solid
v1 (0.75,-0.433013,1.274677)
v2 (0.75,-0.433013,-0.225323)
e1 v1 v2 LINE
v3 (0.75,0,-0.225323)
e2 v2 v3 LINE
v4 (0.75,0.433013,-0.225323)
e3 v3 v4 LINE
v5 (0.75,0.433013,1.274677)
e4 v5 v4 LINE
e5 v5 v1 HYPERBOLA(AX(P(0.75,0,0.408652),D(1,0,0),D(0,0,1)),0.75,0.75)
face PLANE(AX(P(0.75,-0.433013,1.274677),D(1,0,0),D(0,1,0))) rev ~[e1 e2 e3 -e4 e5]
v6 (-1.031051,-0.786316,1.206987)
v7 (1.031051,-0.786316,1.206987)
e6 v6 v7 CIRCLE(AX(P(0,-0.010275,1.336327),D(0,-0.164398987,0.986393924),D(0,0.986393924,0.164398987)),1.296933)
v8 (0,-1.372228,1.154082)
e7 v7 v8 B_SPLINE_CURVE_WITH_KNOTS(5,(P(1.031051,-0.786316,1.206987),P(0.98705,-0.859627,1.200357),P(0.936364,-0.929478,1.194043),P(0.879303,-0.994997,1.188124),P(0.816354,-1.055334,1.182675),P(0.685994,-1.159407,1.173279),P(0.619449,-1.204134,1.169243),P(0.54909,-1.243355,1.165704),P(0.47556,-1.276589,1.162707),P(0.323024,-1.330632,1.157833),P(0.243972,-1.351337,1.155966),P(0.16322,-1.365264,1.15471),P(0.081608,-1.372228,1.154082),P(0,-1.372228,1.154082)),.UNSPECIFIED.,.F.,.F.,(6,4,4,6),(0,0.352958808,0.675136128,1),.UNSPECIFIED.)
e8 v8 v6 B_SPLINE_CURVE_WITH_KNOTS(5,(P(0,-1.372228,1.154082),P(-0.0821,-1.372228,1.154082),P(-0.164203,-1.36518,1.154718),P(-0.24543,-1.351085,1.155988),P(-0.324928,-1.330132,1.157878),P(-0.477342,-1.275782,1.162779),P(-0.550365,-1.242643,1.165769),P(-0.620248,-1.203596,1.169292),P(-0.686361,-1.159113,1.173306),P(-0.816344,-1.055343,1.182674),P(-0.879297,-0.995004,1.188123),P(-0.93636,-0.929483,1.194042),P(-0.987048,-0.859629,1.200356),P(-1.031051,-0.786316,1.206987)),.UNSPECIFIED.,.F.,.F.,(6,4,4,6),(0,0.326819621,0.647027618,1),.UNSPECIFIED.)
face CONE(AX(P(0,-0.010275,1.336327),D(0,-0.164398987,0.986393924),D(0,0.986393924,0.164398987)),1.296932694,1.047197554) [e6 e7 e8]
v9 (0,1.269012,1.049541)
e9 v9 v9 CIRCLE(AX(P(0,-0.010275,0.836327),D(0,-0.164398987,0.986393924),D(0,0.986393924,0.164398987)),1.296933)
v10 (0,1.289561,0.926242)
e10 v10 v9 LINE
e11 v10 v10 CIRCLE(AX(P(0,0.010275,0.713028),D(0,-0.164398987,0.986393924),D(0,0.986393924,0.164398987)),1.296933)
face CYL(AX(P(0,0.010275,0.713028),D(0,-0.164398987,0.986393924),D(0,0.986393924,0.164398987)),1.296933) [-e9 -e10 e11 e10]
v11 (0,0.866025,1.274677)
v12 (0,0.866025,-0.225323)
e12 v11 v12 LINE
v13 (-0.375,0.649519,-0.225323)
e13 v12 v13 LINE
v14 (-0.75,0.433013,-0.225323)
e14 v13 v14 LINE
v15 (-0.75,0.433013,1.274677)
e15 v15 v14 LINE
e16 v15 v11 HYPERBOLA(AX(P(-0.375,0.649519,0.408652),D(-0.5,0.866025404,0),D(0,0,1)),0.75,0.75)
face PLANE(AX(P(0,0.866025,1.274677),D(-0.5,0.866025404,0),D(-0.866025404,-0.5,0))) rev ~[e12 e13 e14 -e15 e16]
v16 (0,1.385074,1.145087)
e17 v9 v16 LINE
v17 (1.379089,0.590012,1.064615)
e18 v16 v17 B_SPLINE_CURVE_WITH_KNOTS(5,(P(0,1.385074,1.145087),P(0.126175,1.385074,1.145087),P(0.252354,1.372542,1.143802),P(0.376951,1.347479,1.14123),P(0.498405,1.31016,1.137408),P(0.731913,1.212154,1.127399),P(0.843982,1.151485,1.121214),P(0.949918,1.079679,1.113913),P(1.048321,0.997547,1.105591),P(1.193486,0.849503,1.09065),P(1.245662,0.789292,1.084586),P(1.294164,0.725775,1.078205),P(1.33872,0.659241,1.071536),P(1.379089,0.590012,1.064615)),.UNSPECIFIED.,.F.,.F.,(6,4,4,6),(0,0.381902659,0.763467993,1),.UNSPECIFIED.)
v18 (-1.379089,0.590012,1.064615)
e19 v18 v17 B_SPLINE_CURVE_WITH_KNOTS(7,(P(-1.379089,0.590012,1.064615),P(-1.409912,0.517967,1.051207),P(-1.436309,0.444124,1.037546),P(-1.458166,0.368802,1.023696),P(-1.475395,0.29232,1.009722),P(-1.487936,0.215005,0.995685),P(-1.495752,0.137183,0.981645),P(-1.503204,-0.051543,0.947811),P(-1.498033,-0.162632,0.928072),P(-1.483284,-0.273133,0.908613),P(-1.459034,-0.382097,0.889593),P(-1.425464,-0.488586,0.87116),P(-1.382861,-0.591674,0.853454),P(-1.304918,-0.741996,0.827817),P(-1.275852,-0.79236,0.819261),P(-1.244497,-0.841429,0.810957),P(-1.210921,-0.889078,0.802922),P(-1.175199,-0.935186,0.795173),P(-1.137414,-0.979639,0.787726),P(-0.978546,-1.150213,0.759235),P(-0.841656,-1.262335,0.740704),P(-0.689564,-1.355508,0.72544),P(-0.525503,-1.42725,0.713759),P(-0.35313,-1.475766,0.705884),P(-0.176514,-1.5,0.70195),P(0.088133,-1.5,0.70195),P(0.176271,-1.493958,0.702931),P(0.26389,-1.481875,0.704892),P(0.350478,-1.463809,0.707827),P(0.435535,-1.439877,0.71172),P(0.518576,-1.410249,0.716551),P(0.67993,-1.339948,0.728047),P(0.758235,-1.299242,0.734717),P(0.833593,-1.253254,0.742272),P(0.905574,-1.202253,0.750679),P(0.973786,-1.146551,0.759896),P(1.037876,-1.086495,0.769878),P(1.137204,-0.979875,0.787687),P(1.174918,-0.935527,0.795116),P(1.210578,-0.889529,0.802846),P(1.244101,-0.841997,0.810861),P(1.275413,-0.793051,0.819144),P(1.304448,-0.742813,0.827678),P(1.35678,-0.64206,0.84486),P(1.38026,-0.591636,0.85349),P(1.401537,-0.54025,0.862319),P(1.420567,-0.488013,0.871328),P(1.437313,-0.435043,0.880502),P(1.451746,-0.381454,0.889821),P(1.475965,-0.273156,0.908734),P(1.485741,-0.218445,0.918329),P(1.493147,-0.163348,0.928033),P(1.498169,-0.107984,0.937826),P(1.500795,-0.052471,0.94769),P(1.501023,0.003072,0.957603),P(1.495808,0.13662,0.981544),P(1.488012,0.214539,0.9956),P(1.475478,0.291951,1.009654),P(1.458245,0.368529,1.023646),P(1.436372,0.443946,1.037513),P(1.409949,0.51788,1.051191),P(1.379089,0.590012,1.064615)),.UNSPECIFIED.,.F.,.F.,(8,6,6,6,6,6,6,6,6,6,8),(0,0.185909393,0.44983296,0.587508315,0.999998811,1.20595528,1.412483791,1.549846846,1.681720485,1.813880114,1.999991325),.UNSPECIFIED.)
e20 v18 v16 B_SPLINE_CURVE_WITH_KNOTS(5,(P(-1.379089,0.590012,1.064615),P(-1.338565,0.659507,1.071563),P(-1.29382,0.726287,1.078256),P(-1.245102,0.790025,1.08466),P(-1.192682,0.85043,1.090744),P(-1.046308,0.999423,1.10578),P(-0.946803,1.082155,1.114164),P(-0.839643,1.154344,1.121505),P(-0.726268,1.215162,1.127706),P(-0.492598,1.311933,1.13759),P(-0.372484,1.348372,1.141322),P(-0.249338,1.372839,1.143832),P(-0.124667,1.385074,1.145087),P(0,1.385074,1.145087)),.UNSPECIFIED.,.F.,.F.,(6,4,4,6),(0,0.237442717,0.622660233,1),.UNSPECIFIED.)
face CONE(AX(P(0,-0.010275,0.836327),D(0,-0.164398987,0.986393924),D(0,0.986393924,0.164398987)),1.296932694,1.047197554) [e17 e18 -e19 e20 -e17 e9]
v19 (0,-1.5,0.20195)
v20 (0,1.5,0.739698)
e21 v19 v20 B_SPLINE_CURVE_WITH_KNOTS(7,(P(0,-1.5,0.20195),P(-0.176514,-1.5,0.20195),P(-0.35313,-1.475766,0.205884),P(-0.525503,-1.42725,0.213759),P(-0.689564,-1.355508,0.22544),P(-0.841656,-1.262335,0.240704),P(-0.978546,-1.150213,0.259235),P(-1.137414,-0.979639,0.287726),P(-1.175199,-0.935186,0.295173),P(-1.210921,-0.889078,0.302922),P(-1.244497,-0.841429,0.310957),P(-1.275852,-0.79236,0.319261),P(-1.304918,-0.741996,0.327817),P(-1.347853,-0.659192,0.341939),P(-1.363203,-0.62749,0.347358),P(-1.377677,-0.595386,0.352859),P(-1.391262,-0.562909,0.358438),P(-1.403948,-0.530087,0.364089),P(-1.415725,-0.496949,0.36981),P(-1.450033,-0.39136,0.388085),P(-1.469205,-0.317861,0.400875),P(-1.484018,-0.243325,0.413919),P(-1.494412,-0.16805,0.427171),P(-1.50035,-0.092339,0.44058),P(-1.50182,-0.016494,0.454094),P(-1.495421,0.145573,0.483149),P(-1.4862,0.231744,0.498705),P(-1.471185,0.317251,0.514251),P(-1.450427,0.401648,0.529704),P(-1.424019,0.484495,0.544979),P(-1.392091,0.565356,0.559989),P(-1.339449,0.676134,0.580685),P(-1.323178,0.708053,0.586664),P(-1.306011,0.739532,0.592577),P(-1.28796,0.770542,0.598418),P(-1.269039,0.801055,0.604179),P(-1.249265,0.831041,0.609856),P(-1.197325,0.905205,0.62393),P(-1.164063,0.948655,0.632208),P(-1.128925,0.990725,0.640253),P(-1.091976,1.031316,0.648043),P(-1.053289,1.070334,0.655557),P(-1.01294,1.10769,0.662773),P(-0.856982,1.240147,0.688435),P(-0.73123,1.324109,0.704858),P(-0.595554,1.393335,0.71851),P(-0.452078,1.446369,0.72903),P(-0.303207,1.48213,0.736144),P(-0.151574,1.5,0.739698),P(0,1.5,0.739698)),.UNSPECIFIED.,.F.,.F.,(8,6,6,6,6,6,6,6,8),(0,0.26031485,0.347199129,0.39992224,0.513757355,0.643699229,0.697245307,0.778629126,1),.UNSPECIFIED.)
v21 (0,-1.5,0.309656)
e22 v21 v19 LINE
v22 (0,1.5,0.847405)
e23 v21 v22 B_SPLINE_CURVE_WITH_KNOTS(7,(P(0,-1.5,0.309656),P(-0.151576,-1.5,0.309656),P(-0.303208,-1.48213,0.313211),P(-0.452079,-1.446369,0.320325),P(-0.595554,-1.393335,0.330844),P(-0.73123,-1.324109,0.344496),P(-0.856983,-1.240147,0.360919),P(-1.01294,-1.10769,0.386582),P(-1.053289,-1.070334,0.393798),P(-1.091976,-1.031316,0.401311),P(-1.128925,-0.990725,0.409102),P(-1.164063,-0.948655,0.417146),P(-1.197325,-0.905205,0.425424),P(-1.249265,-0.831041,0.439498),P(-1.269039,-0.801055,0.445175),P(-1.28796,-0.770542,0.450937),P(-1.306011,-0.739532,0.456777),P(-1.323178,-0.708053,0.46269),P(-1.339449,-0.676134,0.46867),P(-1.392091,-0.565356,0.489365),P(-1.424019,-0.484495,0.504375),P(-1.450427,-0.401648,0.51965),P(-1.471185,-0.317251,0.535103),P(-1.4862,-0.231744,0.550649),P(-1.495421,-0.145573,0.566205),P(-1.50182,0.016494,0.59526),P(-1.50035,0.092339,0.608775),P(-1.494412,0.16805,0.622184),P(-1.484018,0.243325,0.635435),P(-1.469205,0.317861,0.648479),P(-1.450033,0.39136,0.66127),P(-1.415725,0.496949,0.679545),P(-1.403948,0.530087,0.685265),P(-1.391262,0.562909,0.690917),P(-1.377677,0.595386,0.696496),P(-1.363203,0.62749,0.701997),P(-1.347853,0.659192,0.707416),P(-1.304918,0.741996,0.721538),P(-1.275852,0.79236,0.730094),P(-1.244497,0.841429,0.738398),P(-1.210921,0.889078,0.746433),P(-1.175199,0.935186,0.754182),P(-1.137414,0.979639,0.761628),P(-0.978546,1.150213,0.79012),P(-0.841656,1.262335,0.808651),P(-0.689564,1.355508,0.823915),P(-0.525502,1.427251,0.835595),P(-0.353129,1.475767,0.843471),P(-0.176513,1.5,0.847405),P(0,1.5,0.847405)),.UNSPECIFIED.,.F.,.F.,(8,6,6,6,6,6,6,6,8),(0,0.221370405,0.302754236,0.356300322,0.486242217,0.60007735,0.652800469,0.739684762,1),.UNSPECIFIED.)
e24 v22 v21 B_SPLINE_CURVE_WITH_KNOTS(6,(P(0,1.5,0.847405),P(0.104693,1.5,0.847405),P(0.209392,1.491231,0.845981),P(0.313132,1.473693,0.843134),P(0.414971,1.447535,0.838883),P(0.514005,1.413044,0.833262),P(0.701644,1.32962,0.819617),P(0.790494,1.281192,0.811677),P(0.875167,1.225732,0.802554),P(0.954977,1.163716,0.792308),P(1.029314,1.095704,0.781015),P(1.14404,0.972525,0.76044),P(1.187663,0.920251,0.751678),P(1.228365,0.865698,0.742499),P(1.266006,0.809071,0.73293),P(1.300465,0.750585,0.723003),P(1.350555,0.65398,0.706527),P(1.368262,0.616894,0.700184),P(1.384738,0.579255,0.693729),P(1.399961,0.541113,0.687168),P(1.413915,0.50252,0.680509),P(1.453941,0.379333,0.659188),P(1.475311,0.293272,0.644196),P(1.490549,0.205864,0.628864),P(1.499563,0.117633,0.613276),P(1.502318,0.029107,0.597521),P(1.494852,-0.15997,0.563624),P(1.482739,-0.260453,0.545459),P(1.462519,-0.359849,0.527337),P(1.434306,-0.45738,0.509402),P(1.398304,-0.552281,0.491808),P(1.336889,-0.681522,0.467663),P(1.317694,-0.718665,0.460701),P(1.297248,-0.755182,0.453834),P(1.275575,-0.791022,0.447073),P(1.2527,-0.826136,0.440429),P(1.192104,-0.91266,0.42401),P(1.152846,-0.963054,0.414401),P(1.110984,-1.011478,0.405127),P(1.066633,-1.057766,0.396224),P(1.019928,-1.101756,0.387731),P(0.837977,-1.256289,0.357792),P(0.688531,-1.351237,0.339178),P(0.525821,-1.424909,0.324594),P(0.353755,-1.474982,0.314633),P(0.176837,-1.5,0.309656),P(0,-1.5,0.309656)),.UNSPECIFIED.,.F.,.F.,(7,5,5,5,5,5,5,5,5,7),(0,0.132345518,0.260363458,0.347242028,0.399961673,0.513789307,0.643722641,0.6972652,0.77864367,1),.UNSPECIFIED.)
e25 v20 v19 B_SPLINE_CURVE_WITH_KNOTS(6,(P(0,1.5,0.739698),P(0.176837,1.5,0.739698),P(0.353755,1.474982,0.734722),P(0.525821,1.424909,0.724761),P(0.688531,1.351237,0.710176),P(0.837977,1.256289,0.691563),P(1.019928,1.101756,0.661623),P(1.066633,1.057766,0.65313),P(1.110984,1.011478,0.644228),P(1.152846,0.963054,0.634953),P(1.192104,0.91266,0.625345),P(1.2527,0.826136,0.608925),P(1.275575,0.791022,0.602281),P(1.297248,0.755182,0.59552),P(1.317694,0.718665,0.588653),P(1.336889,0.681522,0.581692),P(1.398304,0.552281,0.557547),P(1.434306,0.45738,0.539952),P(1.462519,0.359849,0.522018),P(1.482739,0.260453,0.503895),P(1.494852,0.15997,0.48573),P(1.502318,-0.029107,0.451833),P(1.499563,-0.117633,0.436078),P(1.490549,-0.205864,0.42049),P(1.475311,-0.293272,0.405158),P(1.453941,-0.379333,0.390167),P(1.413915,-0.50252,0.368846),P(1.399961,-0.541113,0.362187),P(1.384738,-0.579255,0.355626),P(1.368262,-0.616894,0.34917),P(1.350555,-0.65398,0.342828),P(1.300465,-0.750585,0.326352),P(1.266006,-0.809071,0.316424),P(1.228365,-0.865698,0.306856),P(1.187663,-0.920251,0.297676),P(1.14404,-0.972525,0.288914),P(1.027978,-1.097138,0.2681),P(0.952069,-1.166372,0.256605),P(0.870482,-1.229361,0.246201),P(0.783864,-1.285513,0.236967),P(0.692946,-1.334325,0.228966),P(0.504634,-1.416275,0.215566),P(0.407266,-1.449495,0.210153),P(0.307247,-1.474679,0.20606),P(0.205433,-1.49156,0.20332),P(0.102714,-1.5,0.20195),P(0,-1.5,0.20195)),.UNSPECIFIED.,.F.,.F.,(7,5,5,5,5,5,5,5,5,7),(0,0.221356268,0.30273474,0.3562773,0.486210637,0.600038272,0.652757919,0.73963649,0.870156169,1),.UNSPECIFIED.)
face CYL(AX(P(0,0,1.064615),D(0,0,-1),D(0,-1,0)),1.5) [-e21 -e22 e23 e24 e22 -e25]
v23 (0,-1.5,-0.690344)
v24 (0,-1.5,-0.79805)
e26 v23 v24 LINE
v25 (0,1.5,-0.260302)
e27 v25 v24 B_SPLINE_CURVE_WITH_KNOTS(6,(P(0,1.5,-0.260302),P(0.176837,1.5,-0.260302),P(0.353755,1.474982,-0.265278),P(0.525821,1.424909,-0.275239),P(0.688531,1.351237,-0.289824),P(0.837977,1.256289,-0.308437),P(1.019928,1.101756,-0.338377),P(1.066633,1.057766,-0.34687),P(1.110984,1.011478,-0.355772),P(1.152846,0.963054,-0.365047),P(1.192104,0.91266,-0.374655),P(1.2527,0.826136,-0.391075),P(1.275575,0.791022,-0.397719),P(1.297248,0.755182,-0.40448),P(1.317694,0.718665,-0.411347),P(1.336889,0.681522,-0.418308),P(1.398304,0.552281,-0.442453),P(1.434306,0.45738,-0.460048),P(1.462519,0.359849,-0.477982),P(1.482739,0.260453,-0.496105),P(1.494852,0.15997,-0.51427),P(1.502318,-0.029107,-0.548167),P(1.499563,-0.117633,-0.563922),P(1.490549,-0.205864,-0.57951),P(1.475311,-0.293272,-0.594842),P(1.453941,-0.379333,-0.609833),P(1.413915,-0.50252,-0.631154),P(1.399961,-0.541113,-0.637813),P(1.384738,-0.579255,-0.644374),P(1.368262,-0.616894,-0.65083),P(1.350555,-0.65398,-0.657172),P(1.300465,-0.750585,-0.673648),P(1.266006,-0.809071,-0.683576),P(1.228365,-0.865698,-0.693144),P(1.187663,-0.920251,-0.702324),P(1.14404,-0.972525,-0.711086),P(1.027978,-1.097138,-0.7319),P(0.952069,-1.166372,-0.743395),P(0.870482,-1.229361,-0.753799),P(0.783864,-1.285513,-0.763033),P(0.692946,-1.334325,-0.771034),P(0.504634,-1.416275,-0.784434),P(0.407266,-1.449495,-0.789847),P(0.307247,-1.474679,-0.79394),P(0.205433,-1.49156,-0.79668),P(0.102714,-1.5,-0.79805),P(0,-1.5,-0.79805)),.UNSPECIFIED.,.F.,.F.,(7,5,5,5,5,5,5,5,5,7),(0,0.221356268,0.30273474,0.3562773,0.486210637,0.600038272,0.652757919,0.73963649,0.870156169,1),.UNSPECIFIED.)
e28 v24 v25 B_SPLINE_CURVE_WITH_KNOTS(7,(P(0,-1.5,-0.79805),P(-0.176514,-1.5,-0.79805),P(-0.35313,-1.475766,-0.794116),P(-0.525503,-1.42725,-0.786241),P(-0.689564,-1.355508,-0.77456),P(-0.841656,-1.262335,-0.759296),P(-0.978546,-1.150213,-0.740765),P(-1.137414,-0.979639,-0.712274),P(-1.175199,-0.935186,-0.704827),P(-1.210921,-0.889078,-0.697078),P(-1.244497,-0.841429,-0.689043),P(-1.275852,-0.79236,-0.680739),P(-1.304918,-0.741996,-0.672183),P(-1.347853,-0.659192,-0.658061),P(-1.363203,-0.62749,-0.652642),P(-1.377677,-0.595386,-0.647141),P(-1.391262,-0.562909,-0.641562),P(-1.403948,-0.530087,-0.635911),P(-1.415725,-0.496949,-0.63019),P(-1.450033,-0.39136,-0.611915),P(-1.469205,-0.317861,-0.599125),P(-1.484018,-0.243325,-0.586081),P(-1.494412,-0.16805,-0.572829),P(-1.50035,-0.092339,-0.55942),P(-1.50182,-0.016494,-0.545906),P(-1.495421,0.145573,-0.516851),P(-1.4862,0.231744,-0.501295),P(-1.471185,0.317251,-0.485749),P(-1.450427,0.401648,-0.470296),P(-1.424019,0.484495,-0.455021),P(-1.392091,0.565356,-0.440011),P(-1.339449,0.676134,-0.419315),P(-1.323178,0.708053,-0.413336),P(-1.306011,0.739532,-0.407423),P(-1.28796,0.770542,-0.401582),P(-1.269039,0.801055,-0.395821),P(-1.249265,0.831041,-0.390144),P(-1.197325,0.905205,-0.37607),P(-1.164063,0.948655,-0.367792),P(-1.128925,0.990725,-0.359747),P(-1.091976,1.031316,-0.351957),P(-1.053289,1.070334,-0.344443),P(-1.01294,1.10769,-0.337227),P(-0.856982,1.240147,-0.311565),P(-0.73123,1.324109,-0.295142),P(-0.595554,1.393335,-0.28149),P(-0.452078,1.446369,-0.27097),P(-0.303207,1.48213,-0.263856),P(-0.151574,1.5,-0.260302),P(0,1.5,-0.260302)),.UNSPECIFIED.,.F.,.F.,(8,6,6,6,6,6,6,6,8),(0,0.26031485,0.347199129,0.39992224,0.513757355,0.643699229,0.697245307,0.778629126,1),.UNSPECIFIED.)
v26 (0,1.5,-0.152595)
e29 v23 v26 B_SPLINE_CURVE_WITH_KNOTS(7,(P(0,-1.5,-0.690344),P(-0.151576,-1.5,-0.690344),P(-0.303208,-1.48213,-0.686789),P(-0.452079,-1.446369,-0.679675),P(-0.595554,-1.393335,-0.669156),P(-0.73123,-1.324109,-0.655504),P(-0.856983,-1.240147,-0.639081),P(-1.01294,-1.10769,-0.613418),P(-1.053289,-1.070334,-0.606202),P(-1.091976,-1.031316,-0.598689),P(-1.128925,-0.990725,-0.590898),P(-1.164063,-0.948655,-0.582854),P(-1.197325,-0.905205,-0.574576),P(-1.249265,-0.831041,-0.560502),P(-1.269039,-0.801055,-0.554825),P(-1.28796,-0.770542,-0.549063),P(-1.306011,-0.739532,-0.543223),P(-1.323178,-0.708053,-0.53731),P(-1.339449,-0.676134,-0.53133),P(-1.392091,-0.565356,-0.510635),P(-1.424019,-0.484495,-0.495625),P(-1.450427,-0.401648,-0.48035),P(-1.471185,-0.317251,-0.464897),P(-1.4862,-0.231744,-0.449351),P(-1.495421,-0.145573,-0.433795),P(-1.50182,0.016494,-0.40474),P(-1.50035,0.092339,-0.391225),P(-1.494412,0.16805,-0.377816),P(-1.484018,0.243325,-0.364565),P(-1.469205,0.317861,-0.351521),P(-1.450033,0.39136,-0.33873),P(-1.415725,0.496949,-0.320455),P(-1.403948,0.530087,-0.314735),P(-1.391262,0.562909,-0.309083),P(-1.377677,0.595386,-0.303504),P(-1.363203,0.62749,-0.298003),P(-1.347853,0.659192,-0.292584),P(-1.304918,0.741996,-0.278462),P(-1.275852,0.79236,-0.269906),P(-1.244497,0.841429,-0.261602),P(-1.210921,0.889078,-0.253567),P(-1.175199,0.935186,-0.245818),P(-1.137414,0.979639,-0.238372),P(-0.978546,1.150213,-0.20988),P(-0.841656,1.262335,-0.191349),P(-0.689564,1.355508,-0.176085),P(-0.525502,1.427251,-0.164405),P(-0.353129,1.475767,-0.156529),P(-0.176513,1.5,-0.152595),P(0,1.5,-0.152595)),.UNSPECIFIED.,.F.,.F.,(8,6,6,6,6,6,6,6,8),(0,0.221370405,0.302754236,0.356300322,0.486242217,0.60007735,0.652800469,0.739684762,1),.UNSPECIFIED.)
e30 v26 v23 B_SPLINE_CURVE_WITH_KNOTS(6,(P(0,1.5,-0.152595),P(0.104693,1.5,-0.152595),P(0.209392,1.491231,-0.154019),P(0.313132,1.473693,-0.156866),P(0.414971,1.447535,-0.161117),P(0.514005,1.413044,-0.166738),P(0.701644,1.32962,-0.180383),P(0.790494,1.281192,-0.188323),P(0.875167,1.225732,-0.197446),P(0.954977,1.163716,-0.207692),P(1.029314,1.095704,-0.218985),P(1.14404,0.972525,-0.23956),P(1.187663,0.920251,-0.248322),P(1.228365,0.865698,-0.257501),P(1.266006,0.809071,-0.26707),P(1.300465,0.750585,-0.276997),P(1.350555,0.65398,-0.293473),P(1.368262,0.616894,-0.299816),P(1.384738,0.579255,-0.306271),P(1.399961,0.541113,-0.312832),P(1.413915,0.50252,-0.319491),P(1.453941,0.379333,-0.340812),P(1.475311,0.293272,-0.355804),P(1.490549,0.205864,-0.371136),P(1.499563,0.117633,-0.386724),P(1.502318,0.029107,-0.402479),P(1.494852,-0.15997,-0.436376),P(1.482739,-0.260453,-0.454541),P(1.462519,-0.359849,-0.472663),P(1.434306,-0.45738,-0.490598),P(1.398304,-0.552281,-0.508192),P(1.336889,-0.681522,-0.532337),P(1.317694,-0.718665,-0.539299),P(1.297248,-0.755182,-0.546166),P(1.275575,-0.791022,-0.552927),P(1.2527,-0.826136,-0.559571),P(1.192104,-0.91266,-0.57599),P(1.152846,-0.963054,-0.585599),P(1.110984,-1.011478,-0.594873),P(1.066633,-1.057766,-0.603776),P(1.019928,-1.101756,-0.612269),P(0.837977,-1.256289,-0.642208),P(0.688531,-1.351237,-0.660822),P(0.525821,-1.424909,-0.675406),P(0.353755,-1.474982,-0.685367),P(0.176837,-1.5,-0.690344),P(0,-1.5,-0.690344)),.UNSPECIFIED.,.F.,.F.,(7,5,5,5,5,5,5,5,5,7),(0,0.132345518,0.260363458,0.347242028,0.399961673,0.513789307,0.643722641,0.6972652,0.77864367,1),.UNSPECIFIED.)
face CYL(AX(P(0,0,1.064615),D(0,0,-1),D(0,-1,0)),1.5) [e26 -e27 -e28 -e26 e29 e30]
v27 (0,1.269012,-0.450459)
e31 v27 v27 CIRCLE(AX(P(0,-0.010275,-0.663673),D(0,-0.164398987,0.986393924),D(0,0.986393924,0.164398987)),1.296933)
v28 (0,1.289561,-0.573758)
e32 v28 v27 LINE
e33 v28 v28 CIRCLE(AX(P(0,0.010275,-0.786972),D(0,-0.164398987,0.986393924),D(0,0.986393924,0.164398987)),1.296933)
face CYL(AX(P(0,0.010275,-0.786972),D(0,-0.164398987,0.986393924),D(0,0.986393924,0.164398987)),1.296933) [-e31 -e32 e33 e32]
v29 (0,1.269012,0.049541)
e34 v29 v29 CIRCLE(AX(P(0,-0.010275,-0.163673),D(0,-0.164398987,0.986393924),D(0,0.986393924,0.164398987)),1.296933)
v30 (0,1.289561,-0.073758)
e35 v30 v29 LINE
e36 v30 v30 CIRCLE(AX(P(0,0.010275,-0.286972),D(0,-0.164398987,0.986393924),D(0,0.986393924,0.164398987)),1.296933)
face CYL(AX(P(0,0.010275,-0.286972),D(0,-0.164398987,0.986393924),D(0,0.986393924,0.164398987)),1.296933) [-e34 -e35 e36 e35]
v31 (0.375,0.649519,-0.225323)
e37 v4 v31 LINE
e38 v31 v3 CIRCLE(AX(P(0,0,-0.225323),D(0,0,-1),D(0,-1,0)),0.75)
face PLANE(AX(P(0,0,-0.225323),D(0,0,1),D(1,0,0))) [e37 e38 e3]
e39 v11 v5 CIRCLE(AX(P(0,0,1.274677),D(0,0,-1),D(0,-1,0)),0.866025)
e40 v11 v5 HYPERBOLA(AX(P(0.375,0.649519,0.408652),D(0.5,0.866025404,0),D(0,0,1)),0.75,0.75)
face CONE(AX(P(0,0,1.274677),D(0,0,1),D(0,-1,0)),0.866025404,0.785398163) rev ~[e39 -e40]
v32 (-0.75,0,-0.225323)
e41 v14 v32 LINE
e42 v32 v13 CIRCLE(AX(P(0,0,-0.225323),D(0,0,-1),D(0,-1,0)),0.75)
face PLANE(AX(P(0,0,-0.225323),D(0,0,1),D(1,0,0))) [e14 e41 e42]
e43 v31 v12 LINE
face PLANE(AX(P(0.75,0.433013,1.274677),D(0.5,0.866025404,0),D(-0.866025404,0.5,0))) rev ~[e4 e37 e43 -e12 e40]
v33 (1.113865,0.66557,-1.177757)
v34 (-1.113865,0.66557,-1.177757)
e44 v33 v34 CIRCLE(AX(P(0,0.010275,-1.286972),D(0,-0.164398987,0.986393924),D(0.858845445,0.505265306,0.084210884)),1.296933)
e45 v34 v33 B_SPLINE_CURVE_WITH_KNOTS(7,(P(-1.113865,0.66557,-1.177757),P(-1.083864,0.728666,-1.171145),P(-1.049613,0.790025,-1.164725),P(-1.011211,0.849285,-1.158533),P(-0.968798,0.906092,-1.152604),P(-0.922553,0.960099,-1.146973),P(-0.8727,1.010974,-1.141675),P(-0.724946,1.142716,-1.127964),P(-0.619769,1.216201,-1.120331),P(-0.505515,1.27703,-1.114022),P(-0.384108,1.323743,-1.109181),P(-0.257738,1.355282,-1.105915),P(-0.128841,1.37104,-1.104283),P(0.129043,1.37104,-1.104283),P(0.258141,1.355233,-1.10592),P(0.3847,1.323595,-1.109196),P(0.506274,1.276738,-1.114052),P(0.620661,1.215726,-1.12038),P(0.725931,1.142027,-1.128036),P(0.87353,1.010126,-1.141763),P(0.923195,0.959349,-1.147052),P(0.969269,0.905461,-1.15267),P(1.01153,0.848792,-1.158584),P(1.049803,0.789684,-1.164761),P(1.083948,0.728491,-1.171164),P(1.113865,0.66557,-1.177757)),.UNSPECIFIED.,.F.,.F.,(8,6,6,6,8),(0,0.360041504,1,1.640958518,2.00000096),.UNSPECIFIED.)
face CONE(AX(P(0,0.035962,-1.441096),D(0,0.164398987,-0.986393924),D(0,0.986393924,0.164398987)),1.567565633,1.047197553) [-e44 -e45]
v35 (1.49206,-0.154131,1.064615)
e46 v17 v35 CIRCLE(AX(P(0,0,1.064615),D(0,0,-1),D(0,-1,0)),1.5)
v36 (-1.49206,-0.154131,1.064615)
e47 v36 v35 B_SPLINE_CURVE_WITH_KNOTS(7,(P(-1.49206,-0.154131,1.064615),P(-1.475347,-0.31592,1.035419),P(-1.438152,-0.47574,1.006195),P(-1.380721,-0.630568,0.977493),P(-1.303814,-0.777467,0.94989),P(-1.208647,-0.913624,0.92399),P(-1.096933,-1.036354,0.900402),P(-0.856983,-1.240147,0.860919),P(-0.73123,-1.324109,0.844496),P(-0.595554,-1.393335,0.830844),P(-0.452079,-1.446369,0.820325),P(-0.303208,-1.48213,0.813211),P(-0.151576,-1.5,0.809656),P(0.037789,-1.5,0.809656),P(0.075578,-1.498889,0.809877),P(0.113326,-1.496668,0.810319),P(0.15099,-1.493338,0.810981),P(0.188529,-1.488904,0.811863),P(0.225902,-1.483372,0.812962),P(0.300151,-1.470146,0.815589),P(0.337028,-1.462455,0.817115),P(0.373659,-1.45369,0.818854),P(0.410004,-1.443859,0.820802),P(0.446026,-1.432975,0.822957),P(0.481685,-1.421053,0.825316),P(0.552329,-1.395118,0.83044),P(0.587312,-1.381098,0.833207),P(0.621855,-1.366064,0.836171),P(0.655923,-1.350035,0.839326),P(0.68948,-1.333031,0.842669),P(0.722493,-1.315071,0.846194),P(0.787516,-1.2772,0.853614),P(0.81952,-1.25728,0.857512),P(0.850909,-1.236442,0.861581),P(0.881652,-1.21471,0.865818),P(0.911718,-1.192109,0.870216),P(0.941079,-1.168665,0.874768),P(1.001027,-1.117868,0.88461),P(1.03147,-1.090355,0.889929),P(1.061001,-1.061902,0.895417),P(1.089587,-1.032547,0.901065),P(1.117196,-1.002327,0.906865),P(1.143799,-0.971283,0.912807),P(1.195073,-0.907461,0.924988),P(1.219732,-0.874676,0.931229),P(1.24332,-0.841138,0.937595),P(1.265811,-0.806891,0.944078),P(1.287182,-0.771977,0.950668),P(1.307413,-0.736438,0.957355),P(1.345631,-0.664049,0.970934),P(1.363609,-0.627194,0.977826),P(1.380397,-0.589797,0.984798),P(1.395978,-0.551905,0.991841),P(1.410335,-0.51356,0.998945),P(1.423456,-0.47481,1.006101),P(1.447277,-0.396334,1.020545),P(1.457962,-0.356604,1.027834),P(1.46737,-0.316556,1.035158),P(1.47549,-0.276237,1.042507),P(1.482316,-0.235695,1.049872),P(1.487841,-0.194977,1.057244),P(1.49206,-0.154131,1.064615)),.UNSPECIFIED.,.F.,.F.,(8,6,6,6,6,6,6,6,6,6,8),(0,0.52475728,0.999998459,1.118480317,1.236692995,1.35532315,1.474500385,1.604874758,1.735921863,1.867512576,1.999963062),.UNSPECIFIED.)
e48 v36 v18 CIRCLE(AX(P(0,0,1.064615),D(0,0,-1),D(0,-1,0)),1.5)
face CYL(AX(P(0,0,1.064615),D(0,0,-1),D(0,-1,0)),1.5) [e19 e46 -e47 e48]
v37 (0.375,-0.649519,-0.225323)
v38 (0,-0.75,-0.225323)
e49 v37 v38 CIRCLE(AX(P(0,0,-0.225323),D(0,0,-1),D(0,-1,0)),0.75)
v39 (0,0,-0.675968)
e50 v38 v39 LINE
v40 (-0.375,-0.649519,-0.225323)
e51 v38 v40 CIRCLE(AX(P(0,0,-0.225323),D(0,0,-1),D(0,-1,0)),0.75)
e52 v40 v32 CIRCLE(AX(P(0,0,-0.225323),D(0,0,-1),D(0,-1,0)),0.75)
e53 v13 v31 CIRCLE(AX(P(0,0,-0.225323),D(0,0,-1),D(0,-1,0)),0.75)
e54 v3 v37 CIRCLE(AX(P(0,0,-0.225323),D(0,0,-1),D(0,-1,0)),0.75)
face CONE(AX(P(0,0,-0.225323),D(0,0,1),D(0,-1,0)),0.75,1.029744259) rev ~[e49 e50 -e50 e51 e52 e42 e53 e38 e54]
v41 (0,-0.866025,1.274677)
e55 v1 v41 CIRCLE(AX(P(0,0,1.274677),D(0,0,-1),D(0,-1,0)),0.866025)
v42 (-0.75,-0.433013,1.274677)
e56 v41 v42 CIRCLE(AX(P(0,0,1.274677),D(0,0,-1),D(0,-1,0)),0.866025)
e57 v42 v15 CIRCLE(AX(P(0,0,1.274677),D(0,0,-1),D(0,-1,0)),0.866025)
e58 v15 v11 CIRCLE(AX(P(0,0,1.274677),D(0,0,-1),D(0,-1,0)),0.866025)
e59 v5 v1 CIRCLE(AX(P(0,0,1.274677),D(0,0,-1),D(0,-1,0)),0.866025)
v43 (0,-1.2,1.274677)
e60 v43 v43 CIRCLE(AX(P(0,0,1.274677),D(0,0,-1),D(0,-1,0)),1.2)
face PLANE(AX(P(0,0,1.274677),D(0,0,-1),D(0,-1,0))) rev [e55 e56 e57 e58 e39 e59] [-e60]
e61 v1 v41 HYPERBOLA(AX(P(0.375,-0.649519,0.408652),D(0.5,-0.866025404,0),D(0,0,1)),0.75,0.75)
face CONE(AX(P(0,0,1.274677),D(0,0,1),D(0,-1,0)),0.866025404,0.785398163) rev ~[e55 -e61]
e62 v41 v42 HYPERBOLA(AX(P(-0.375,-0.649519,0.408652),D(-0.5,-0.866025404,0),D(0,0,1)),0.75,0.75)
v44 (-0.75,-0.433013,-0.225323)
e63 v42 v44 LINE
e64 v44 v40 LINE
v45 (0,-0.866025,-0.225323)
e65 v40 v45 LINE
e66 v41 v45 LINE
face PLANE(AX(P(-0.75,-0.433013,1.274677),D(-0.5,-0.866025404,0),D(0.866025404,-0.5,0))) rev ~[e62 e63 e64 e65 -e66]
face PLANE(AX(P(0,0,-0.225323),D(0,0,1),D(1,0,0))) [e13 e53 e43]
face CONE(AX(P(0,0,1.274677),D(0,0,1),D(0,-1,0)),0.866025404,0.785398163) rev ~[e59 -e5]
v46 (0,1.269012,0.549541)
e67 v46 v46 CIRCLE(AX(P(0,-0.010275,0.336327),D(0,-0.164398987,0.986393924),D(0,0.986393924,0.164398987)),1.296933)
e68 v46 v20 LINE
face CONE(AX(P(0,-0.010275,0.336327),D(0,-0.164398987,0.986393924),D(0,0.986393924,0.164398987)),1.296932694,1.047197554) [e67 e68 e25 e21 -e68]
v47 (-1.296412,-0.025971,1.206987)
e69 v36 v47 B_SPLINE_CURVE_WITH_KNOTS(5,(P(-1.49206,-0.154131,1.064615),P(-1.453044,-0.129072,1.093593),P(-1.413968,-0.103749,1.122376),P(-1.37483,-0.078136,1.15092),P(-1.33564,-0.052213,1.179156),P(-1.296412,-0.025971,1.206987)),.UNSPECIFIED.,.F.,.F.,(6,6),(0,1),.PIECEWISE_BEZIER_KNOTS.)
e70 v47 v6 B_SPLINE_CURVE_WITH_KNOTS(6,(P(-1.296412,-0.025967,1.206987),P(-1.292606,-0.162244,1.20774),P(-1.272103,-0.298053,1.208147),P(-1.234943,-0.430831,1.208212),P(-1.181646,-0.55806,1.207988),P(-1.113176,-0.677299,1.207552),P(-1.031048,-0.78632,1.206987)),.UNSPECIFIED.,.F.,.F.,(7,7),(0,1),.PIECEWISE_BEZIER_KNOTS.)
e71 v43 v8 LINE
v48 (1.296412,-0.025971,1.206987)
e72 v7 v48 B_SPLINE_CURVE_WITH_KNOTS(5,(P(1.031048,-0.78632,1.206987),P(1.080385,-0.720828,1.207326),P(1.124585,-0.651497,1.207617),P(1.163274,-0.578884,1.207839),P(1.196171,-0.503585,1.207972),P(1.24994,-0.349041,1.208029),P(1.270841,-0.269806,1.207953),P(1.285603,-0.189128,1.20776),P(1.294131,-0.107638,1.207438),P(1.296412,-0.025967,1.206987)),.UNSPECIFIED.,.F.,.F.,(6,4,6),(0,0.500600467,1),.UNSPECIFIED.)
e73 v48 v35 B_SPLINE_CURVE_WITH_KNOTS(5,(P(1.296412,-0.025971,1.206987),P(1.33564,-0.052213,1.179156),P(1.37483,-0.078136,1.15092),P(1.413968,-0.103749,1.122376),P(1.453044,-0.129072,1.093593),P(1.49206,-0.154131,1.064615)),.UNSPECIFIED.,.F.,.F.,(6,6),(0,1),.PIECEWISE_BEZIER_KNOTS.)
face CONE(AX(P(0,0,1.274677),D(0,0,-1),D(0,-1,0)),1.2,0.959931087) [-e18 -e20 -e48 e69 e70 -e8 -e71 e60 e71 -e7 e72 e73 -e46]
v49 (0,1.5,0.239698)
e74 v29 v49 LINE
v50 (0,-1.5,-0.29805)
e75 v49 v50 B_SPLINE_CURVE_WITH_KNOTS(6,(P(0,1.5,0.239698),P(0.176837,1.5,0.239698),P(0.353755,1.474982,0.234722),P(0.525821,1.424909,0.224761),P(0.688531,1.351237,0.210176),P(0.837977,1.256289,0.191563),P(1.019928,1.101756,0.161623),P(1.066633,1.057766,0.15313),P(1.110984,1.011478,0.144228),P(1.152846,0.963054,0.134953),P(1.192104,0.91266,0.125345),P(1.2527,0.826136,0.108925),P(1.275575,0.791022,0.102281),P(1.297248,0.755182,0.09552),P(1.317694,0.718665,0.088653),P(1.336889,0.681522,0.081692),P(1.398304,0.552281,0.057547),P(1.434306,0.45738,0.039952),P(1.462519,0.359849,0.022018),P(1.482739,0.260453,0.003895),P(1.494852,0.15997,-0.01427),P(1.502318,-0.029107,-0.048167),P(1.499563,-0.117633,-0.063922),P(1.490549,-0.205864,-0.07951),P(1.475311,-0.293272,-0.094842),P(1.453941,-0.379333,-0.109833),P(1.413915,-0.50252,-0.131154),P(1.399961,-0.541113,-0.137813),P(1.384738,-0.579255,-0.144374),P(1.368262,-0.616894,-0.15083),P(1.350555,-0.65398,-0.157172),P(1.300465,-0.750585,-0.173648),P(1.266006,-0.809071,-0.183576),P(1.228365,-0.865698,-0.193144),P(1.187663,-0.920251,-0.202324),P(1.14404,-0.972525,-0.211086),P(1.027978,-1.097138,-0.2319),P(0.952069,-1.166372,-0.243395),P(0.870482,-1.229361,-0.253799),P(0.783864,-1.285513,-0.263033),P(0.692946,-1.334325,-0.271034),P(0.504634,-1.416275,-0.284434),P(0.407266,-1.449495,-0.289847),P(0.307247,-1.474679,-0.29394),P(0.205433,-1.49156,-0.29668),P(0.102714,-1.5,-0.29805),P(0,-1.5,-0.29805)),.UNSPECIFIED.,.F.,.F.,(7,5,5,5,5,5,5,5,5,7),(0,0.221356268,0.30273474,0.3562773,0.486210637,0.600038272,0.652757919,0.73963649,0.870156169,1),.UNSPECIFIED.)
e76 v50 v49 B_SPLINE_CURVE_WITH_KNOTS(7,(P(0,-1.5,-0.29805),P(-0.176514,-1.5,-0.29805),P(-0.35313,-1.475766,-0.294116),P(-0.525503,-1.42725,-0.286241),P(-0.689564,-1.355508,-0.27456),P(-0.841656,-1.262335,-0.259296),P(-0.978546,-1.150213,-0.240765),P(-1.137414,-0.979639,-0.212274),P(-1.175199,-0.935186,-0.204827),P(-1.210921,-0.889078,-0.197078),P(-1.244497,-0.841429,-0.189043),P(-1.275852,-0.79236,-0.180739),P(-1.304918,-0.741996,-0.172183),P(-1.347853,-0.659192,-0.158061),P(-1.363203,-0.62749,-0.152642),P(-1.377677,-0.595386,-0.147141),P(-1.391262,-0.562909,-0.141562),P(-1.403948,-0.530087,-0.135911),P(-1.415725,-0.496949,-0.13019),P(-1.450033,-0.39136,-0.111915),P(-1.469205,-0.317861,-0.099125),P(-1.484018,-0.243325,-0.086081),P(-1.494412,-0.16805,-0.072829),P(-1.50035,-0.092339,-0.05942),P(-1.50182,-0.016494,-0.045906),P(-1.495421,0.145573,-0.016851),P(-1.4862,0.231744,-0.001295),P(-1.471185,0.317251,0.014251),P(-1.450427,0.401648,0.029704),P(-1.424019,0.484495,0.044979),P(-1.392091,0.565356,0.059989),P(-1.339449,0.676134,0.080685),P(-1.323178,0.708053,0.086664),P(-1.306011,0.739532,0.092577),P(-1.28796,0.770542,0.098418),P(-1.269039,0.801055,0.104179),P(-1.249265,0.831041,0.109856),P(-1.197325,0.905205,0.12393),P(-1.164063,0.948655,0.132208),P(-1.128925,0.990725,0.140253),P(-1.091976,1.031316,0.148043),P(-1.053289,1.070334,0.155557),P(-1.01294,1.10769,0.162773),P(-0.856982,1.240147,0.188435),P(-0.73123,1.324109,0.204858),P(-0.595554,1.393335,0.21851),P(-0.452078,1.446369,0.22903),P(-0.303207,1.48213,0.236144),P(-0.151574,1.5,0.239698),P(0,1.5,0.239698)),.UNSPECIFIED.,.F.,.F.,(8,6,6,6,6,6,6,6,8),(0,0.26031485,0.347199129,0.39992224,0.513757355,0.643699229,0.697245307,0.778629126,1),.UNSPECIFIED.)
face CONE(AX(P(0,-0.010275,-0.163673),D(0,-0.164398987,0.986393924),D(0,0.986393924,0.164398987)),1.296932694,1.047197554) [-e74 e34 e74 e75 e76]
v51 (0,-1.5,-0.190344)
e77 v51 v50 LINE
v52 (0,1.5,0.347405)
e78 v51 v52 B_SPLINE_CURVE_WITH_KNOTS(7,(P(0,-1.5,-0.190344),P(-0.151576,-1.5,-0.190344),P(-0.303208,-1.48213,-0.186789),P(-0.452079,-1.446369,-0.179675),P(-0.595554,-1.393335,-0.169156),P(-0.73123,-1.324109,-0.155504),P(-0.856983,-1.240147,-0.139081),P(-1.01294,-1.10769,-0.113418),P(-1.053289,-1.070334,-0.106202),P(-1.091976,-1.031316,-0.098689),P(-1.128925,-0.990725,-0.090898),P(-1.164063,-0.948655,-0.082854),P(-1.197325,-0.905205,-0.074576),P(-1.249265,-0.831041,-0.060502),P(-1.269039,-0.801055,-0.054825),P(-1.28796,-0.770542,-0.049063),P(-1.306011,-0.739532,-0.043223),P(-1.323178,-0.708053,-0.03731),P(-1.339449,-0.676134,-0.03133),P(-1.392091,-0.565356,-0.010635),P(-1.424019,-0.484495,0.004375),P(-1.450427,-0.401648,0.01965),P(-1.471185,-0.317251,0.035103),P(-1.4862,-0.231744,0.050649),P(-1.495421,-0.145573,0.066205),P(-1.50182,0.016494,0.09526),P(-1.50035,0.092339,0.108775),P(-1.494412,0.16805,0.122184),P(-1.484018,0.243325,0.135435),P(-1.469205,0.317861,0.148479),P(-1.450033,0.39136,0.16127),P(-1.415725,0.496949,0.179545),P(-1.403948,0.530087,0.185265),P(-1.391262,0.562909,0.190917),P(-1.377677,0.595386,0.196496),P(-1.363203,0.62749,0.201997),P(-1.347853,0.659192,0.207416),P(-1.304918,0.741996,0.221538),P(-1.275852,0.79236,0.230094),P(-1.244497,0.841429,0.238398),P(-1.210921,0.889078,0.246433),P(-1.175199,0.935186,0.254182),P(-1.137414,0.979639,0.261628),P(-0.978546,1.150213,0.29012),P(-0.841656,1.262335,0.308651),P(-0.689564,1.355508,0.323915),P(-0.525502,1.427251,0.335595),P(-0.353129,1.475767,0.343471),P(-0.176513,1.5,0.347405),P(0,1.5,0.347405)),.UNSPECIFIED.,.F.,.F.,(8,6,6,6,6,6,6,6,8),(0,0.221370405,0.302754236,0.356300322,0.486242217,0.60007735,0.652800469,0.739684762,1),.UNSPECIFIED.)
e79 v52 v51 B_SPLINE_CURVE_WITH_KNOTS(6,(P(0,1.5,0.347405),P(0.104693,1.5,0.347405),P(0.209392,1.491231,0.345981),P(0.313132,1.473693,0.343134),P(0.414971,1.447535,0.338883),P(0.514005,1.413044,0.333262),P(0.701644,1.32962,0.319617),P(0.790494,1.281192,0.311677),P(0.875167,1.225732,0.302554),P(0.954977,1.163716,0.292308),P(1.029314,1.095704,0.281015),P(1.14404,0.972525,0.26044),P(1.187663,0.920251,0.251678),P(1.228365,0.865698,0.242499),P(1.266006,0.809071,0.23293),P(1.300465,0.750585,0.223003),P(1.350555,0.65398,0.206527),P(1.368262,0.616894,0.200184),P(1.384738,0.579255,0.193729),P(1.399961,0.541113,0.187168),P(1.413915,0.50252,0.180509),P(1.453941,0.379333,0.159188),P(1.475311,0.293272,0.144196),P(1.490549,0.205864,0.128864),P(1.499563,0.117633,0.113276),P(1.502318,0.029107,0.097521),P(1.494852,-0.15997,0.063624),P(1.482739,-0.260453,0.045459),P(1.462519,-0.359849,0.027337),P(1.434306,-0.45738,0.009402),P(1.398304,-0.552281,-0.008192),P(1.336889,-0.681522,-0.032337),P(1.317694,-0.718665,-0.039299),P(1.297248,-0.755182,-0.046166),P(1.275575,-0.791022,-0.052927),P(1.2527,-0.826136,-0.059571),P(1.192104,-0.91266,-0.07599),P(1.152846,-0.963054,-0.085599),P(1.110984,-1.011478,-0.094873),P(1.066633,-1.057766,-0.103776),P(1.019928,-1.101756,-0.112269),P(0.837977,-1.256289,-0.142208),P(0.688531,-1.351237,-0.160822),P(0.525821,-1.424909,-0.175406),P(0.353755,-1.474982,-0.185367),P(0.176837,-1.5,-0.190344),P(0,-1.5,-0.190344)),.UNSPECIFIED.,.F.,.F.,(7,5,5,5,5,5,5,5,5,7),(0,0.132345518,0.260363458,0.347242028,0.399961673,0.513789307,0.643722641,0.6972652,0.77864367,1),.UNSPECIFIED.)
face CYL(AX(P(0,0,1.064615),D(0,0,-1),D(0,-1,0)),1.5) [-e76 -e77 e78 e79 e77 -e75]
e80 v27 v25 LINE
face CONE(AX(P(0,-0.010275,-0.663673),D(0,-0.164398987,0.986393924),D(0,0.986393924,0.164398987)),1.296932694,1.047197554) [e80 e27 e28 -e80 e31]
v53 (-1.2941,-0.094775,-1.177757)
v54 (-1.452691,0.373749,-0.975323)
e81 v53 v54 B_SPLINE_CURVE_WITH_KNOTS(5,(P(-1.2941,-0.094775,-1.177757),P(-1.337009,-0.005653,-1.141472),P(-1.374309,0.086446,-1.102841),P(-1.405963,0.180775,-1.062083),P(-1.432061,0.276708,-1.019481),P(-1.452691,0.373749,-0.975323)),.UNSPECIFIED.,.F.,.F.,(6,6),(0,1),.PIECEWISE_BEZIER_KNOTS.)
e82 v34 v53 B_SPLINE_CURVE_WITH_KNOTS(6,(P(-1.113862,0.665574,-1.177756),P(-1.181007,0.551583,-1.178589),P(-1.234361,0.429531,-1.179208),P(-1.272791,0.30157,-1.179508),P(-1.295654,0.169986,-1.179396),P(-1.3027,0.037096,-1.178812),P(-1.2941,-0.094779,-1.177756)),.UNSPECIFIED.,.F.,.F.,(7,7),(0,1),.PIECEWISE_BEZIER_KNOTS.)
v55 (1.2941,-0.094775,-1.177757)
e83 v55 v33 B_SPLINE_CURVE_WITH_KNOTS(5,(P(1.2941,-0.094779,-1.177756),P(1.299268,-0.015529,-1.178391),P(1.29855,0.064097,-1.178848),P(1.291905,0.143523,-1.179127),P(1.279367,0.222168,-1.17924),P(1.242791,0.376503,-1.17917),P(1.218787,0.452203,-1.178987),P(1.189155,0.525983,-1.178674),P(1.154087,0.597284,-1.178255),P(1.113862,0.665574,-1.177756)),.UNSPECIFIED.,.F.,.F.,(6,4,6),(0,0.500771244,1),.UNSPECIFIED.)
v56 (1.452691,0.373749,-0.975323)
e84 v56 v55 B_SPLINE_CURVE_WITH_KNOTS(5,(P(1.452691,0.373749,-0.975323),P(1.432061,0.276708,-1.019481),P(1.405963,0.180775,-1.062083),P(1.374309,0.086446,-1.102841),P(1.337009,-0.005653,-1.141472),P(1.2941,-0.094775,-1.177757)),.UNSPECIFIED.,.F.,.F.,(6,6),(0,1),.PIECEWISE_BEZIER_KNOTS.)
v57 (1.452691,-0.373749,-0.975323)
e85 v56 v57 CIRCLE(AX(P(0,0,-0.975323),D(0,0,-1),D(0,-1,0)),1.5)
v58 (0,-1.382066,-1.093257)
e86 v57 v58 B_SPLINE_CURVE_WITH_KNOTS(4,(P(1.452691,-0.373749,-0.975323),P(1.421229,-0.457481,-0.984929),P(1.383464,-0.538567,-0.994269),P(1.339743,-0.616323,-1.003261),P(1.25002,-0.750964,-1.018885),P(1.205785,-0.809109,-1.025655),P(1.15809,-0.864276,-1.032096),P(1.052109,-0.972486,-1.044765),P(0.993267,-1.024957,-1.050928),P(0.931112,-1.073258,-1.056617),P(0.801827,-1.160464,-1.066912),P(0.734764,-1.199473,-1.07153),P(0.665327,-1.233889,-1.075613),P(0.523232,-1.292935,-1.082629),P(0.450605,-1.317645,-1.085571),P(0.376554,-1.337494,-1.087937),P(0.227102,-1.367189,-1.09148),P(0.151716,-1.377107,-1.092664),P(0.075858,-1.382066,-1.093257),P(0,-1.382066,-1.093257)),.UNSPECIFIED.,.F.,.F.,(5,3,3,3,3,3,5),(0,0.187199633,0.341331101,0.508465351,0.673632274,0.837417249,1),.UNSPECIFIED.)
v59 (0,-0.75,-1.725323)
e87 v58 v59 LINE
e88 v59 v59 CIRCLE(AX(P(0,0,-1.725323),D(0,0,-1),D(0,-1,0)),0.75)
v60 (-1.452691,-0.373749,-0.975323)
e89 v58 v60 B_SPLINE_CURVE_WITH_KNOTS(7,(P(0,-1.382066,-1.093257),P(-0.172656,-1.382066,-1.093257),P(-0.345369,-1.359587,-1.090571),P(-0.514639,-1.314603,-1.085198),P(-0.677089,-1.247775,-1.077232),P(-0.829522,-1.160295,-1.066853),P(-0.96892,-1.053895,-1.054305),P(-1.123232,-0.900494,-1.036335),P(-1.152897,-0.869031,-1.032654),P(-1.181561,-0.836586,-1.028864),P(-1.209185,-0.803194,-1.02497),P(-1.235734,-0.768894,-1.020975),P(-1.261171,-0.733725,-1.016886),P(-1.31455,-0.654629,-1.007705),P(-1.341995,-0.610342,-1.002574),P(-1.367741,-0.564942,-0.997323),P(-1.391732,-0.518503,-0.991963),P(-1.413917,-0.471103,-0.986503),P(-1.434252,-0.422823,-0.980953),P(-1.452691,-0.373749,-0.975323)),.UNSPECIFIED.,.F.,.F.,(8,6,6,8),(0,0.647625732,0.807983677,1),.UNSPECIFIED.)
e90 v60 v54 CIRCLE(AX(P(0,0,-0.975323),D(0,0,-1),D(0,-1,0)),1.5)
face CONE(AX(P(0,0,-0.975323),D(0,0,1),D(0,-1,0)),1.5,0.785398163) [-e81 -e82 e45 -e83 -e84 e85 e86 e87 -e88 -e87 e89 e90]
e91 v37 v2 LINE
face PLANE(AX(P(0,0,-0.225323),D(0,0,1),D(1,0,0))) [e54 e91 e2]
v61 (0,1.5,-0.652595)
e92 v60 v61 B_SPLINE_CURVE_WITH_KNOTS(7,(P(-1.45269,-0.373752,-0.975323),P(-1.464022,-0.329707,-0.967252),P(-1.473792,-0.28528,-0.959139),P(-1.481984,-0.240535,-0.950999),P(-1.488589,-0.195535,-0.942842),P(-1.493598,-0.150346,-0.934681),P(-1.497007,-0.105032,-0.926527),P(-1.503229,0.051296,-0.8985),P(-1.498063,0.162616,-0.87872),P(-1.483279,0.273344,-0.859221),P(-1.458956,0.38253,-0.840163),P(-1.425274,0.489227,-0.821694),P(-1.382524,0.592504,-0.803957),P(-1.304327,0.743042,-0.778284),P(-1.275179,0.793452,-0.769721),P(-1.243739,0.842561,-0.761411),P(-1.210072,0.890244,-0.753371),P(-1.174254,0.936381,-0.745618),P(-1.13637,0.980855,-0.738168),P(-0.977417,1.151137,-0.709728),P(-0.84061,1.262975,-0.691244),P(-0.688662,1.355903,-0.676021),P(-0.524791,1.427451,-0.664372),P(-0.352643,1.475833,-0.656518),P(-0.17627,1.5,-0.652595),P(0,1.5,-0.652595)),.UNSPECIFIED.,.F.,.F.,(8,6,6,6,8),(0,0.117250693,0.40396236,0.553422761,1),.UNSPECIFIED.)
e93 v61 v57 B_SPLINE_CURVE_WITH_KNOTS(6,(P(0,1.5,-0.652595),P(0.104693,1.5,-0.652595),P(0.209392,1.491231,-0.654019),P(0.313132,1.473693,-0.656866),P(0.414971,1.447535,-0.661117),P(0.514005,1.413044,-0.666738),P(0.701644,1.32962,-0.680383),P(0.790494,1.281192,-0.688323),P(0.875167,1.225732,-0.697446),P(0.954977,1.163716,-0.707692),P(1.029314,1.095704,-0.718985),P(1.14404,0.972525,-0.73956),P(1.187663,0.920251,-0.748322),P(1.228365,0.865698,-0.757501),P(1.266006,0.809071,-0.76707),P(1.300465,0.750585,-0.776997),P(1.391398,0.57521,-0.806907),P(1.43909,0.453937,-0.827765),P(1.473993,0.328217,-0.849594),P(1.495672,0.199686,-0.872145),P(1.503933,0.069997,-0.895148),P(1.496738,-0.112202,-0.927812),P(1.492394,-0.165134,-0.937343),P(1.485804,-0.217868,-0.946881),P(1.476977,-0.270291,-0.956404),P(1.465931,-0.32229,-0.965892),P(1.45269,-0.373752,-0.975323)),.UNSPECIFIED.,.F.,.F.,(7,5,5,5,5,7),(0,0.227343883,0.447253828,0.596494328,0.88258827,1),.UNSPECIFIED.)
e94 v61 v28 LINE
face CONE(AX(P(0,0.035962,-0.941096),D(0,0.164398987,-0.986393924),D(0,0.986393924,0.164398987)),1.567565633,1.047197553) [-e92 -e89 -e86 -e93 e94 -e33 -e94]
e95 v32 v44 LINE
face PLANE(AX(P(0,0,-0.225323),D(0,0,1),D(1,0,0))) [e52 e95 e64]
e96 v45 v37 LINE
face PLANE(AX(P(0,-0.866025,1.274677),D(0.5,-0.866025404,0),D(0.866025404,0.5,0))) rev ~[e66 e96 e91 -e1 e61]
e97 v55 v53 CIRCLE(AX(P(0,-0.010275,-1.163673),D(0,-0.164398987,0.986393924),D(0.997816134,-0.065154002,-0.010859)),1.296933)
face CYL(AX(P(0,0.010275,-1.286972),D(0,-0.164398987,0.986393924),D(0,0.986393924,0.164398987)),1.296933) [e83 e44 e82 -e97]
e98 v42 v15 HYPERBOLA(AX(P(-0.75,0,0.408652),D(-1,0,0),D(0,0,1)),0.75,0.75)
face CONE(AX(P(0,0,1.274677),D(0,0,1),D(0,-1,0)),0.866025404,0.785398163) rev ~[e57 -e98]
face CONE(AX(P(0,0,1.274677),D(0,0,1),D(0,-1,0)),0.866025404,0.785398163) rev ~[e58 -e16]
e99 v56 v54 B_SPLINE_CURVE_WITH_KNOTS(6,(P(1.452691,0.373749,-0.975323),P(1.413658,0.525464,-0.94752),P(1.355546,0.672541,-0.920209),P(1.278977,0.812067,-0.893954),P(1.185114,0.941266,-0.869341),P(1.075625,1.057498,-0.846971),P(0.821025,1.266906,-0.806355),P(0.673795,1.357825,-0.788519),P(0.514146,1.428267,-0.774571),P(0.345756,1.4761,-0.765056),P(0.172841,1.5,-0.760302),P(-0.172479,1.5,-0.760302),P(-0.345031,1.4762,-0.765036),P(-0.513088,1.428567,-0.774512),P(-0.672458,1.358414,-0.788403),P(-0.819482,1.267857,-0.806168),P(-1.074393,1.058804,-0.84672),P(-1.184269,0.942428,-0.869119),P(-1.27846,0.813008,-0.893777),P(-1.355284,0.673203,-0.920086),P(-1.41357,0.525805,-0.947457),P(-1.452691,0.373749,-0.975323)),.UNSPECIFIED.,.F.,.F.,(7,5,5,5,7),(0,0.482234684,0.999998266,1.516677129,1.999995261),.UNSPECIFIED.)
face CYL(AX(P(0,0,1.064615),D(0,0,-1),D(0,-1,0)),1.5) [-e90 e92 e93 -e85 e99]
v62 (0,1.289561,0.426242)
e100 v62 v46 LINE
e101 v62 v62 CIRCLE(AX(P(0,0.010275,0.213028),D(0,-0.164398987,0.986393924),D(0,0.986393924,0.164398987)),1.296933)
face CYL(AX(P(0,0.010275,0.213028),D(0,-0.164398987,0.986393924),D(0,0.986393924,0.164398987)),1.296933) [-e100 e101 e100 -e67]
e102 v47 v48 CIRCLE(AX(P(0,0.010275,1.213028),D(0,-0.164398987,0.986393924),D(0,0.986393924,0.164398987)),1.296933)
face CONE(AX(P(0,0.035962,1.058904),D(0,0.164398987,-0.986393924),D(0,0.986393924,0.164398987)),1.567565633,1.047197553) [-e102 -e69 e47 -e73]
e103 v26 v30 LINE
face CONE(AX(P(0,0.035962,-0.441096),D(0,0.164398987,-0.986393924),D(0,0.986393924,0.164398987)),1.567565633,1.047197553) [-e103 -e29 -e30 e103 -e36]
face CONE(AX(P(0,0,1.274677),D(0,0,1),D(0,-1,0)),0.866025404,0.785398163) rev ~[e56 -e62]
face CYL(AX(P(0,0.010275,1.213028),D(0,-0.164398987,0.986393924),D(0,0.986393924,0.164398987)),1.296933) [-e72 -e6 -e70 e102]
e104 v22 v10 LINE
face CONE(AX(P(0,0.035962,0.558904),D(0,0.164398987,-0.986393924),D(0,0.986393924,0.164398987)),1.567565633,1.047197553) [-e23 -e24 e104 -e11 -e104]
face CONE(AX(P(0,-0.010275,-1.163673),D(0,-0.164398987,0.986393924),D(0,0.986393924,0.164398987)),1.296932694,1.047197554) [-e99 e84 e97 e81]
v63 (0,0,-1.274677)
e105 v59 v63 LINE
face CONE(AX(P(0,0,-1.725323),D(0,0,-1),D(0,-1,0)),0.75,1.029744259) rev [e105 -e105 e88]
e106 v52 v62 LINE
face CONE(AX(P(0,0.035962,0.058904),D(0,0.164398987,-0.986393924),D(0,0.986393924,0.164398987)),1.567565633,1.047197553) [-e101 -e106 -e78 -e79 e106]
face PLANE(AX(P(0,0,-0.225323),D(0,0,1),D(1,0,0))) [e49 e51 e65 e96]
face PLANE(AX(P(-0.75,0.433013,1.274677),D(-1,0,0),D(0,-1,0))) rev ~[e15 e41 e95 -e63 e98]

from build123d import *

# Parameters (mm, degrees)
LPATTERN1_COUNT     = 5
LPATTERN1_PITCH     = 0.5
LPATTERN1_COL_COUNT = 2
LPATTERN1_COL_PITCH = 0.5
CUT_EXTRUDE10_DEPTH = 1.5


with BuildPart() as part:
    # Sketch22 → Revolve1 (revolve)
    with BuildSketch(Plane(origin=(0, 0, 0), x_dir=(0, 0, -1), z_dir=(1, 0, 0)), mode=Mode.PRIVATE) as revolve1_sk:
        Polygon((-1.274677268, 0), (-1.274677268, 1.2), (-1.064615006, 1.5), (0.975322732, 1.5), (1.725322732, 0.75), (1.274677268, 0), align=None)
    revolve(revolve1_sk.sketch.rotate(Axis((0, 0, -1.274677268), (0, 0, -1)), 180), axis=Axis((0, 0, -1.274677268), (0, 0, -1)))

    # Sketch6 → Cut-Revolve8 (revolve, cut)
    with BuildSketch(Plane(origin=(0, 0, 0), x_dir=(0, 0, -1), z_dir=(1, 0, 0))):
        Polygon((0.573757931, 1.289561466), (0.45045869, 1.269011592), (0.251842859, 1.510274937), (0.6833902, 1.582199494), align=None)
    cut_revolve8 = revolve(axis=Axis((0, 0.089188249, -1.260452226), (0, -0.16439898730536787, 0.986393923832142)), mode=Mode.SUBTRACT)

    # LPattern1: Cut-Revolve8 ×5
    with Locations(*[(0, 0, i * LPATTERN1_PITCH) for i in range(1, LPATTERN1_COUNT)]):
        add(cut_revolve8, mode=Mode.SUBTRACT)

    # LPattern1 col: Cut-Revolve8 ×2
    with Locations(*[(0, 0, -i * LPATTERN1_COL_PITCH) for i in range(1, LPATTERN1_COL_COUNT)]):
        add(cut_revolve8, mode=Mode.SUBTRACT)

    # Sketch23 → Cut-Extrude10 (cut)
    with BuildSketch(Plane.XY.offset(1.274677268)):
        Polygon((0, 0.866025404), (-0.75, 0.433012702), (-0.75, -0.433012702), (0, -0.866025404), (0.75, -0.433012702), (0.75, 0.433012702), align=None)
    extrude(amount=-CUT_EXTRUDE10_DEPTH, mode=Mode.SUBTRACT)

    # Cut-Extrude11 cone 1 section (through the dimple's axis) → Cut-Extrude11 (revolve, cut)
    with BuildSketch(Plane(origin=(0, 0, 1.274677268), x_dir=(0, -1, 0), z_dir=(1, 0, 0))):
        Polygon((0, 0), (0.866025404, 0), (0, 0.866025404), align=None)
    revolve(axis=Axis((0, 0, 1.274677268), (0, 0, -1)), mode=Mode.SUBTRACT)

    # Cut-Extrude12 cone 1 section (through the dimple's axis) → Cut-Extrude12 (revolve, cut)
    with BuildSketch(Plane(origin=(0, 0, -0.225322732), x_dir=(0, -1, 0), z_dir=(1, 0, 0))):
        Polygon((0, 0), (0.75, 0), (0, 0.450645464), align=None)
    revolve(axis=Axis((0, 0, -0.225322732), (0, 0, -1)), mode=Mode.SUBTRACT)


solid = part.part
